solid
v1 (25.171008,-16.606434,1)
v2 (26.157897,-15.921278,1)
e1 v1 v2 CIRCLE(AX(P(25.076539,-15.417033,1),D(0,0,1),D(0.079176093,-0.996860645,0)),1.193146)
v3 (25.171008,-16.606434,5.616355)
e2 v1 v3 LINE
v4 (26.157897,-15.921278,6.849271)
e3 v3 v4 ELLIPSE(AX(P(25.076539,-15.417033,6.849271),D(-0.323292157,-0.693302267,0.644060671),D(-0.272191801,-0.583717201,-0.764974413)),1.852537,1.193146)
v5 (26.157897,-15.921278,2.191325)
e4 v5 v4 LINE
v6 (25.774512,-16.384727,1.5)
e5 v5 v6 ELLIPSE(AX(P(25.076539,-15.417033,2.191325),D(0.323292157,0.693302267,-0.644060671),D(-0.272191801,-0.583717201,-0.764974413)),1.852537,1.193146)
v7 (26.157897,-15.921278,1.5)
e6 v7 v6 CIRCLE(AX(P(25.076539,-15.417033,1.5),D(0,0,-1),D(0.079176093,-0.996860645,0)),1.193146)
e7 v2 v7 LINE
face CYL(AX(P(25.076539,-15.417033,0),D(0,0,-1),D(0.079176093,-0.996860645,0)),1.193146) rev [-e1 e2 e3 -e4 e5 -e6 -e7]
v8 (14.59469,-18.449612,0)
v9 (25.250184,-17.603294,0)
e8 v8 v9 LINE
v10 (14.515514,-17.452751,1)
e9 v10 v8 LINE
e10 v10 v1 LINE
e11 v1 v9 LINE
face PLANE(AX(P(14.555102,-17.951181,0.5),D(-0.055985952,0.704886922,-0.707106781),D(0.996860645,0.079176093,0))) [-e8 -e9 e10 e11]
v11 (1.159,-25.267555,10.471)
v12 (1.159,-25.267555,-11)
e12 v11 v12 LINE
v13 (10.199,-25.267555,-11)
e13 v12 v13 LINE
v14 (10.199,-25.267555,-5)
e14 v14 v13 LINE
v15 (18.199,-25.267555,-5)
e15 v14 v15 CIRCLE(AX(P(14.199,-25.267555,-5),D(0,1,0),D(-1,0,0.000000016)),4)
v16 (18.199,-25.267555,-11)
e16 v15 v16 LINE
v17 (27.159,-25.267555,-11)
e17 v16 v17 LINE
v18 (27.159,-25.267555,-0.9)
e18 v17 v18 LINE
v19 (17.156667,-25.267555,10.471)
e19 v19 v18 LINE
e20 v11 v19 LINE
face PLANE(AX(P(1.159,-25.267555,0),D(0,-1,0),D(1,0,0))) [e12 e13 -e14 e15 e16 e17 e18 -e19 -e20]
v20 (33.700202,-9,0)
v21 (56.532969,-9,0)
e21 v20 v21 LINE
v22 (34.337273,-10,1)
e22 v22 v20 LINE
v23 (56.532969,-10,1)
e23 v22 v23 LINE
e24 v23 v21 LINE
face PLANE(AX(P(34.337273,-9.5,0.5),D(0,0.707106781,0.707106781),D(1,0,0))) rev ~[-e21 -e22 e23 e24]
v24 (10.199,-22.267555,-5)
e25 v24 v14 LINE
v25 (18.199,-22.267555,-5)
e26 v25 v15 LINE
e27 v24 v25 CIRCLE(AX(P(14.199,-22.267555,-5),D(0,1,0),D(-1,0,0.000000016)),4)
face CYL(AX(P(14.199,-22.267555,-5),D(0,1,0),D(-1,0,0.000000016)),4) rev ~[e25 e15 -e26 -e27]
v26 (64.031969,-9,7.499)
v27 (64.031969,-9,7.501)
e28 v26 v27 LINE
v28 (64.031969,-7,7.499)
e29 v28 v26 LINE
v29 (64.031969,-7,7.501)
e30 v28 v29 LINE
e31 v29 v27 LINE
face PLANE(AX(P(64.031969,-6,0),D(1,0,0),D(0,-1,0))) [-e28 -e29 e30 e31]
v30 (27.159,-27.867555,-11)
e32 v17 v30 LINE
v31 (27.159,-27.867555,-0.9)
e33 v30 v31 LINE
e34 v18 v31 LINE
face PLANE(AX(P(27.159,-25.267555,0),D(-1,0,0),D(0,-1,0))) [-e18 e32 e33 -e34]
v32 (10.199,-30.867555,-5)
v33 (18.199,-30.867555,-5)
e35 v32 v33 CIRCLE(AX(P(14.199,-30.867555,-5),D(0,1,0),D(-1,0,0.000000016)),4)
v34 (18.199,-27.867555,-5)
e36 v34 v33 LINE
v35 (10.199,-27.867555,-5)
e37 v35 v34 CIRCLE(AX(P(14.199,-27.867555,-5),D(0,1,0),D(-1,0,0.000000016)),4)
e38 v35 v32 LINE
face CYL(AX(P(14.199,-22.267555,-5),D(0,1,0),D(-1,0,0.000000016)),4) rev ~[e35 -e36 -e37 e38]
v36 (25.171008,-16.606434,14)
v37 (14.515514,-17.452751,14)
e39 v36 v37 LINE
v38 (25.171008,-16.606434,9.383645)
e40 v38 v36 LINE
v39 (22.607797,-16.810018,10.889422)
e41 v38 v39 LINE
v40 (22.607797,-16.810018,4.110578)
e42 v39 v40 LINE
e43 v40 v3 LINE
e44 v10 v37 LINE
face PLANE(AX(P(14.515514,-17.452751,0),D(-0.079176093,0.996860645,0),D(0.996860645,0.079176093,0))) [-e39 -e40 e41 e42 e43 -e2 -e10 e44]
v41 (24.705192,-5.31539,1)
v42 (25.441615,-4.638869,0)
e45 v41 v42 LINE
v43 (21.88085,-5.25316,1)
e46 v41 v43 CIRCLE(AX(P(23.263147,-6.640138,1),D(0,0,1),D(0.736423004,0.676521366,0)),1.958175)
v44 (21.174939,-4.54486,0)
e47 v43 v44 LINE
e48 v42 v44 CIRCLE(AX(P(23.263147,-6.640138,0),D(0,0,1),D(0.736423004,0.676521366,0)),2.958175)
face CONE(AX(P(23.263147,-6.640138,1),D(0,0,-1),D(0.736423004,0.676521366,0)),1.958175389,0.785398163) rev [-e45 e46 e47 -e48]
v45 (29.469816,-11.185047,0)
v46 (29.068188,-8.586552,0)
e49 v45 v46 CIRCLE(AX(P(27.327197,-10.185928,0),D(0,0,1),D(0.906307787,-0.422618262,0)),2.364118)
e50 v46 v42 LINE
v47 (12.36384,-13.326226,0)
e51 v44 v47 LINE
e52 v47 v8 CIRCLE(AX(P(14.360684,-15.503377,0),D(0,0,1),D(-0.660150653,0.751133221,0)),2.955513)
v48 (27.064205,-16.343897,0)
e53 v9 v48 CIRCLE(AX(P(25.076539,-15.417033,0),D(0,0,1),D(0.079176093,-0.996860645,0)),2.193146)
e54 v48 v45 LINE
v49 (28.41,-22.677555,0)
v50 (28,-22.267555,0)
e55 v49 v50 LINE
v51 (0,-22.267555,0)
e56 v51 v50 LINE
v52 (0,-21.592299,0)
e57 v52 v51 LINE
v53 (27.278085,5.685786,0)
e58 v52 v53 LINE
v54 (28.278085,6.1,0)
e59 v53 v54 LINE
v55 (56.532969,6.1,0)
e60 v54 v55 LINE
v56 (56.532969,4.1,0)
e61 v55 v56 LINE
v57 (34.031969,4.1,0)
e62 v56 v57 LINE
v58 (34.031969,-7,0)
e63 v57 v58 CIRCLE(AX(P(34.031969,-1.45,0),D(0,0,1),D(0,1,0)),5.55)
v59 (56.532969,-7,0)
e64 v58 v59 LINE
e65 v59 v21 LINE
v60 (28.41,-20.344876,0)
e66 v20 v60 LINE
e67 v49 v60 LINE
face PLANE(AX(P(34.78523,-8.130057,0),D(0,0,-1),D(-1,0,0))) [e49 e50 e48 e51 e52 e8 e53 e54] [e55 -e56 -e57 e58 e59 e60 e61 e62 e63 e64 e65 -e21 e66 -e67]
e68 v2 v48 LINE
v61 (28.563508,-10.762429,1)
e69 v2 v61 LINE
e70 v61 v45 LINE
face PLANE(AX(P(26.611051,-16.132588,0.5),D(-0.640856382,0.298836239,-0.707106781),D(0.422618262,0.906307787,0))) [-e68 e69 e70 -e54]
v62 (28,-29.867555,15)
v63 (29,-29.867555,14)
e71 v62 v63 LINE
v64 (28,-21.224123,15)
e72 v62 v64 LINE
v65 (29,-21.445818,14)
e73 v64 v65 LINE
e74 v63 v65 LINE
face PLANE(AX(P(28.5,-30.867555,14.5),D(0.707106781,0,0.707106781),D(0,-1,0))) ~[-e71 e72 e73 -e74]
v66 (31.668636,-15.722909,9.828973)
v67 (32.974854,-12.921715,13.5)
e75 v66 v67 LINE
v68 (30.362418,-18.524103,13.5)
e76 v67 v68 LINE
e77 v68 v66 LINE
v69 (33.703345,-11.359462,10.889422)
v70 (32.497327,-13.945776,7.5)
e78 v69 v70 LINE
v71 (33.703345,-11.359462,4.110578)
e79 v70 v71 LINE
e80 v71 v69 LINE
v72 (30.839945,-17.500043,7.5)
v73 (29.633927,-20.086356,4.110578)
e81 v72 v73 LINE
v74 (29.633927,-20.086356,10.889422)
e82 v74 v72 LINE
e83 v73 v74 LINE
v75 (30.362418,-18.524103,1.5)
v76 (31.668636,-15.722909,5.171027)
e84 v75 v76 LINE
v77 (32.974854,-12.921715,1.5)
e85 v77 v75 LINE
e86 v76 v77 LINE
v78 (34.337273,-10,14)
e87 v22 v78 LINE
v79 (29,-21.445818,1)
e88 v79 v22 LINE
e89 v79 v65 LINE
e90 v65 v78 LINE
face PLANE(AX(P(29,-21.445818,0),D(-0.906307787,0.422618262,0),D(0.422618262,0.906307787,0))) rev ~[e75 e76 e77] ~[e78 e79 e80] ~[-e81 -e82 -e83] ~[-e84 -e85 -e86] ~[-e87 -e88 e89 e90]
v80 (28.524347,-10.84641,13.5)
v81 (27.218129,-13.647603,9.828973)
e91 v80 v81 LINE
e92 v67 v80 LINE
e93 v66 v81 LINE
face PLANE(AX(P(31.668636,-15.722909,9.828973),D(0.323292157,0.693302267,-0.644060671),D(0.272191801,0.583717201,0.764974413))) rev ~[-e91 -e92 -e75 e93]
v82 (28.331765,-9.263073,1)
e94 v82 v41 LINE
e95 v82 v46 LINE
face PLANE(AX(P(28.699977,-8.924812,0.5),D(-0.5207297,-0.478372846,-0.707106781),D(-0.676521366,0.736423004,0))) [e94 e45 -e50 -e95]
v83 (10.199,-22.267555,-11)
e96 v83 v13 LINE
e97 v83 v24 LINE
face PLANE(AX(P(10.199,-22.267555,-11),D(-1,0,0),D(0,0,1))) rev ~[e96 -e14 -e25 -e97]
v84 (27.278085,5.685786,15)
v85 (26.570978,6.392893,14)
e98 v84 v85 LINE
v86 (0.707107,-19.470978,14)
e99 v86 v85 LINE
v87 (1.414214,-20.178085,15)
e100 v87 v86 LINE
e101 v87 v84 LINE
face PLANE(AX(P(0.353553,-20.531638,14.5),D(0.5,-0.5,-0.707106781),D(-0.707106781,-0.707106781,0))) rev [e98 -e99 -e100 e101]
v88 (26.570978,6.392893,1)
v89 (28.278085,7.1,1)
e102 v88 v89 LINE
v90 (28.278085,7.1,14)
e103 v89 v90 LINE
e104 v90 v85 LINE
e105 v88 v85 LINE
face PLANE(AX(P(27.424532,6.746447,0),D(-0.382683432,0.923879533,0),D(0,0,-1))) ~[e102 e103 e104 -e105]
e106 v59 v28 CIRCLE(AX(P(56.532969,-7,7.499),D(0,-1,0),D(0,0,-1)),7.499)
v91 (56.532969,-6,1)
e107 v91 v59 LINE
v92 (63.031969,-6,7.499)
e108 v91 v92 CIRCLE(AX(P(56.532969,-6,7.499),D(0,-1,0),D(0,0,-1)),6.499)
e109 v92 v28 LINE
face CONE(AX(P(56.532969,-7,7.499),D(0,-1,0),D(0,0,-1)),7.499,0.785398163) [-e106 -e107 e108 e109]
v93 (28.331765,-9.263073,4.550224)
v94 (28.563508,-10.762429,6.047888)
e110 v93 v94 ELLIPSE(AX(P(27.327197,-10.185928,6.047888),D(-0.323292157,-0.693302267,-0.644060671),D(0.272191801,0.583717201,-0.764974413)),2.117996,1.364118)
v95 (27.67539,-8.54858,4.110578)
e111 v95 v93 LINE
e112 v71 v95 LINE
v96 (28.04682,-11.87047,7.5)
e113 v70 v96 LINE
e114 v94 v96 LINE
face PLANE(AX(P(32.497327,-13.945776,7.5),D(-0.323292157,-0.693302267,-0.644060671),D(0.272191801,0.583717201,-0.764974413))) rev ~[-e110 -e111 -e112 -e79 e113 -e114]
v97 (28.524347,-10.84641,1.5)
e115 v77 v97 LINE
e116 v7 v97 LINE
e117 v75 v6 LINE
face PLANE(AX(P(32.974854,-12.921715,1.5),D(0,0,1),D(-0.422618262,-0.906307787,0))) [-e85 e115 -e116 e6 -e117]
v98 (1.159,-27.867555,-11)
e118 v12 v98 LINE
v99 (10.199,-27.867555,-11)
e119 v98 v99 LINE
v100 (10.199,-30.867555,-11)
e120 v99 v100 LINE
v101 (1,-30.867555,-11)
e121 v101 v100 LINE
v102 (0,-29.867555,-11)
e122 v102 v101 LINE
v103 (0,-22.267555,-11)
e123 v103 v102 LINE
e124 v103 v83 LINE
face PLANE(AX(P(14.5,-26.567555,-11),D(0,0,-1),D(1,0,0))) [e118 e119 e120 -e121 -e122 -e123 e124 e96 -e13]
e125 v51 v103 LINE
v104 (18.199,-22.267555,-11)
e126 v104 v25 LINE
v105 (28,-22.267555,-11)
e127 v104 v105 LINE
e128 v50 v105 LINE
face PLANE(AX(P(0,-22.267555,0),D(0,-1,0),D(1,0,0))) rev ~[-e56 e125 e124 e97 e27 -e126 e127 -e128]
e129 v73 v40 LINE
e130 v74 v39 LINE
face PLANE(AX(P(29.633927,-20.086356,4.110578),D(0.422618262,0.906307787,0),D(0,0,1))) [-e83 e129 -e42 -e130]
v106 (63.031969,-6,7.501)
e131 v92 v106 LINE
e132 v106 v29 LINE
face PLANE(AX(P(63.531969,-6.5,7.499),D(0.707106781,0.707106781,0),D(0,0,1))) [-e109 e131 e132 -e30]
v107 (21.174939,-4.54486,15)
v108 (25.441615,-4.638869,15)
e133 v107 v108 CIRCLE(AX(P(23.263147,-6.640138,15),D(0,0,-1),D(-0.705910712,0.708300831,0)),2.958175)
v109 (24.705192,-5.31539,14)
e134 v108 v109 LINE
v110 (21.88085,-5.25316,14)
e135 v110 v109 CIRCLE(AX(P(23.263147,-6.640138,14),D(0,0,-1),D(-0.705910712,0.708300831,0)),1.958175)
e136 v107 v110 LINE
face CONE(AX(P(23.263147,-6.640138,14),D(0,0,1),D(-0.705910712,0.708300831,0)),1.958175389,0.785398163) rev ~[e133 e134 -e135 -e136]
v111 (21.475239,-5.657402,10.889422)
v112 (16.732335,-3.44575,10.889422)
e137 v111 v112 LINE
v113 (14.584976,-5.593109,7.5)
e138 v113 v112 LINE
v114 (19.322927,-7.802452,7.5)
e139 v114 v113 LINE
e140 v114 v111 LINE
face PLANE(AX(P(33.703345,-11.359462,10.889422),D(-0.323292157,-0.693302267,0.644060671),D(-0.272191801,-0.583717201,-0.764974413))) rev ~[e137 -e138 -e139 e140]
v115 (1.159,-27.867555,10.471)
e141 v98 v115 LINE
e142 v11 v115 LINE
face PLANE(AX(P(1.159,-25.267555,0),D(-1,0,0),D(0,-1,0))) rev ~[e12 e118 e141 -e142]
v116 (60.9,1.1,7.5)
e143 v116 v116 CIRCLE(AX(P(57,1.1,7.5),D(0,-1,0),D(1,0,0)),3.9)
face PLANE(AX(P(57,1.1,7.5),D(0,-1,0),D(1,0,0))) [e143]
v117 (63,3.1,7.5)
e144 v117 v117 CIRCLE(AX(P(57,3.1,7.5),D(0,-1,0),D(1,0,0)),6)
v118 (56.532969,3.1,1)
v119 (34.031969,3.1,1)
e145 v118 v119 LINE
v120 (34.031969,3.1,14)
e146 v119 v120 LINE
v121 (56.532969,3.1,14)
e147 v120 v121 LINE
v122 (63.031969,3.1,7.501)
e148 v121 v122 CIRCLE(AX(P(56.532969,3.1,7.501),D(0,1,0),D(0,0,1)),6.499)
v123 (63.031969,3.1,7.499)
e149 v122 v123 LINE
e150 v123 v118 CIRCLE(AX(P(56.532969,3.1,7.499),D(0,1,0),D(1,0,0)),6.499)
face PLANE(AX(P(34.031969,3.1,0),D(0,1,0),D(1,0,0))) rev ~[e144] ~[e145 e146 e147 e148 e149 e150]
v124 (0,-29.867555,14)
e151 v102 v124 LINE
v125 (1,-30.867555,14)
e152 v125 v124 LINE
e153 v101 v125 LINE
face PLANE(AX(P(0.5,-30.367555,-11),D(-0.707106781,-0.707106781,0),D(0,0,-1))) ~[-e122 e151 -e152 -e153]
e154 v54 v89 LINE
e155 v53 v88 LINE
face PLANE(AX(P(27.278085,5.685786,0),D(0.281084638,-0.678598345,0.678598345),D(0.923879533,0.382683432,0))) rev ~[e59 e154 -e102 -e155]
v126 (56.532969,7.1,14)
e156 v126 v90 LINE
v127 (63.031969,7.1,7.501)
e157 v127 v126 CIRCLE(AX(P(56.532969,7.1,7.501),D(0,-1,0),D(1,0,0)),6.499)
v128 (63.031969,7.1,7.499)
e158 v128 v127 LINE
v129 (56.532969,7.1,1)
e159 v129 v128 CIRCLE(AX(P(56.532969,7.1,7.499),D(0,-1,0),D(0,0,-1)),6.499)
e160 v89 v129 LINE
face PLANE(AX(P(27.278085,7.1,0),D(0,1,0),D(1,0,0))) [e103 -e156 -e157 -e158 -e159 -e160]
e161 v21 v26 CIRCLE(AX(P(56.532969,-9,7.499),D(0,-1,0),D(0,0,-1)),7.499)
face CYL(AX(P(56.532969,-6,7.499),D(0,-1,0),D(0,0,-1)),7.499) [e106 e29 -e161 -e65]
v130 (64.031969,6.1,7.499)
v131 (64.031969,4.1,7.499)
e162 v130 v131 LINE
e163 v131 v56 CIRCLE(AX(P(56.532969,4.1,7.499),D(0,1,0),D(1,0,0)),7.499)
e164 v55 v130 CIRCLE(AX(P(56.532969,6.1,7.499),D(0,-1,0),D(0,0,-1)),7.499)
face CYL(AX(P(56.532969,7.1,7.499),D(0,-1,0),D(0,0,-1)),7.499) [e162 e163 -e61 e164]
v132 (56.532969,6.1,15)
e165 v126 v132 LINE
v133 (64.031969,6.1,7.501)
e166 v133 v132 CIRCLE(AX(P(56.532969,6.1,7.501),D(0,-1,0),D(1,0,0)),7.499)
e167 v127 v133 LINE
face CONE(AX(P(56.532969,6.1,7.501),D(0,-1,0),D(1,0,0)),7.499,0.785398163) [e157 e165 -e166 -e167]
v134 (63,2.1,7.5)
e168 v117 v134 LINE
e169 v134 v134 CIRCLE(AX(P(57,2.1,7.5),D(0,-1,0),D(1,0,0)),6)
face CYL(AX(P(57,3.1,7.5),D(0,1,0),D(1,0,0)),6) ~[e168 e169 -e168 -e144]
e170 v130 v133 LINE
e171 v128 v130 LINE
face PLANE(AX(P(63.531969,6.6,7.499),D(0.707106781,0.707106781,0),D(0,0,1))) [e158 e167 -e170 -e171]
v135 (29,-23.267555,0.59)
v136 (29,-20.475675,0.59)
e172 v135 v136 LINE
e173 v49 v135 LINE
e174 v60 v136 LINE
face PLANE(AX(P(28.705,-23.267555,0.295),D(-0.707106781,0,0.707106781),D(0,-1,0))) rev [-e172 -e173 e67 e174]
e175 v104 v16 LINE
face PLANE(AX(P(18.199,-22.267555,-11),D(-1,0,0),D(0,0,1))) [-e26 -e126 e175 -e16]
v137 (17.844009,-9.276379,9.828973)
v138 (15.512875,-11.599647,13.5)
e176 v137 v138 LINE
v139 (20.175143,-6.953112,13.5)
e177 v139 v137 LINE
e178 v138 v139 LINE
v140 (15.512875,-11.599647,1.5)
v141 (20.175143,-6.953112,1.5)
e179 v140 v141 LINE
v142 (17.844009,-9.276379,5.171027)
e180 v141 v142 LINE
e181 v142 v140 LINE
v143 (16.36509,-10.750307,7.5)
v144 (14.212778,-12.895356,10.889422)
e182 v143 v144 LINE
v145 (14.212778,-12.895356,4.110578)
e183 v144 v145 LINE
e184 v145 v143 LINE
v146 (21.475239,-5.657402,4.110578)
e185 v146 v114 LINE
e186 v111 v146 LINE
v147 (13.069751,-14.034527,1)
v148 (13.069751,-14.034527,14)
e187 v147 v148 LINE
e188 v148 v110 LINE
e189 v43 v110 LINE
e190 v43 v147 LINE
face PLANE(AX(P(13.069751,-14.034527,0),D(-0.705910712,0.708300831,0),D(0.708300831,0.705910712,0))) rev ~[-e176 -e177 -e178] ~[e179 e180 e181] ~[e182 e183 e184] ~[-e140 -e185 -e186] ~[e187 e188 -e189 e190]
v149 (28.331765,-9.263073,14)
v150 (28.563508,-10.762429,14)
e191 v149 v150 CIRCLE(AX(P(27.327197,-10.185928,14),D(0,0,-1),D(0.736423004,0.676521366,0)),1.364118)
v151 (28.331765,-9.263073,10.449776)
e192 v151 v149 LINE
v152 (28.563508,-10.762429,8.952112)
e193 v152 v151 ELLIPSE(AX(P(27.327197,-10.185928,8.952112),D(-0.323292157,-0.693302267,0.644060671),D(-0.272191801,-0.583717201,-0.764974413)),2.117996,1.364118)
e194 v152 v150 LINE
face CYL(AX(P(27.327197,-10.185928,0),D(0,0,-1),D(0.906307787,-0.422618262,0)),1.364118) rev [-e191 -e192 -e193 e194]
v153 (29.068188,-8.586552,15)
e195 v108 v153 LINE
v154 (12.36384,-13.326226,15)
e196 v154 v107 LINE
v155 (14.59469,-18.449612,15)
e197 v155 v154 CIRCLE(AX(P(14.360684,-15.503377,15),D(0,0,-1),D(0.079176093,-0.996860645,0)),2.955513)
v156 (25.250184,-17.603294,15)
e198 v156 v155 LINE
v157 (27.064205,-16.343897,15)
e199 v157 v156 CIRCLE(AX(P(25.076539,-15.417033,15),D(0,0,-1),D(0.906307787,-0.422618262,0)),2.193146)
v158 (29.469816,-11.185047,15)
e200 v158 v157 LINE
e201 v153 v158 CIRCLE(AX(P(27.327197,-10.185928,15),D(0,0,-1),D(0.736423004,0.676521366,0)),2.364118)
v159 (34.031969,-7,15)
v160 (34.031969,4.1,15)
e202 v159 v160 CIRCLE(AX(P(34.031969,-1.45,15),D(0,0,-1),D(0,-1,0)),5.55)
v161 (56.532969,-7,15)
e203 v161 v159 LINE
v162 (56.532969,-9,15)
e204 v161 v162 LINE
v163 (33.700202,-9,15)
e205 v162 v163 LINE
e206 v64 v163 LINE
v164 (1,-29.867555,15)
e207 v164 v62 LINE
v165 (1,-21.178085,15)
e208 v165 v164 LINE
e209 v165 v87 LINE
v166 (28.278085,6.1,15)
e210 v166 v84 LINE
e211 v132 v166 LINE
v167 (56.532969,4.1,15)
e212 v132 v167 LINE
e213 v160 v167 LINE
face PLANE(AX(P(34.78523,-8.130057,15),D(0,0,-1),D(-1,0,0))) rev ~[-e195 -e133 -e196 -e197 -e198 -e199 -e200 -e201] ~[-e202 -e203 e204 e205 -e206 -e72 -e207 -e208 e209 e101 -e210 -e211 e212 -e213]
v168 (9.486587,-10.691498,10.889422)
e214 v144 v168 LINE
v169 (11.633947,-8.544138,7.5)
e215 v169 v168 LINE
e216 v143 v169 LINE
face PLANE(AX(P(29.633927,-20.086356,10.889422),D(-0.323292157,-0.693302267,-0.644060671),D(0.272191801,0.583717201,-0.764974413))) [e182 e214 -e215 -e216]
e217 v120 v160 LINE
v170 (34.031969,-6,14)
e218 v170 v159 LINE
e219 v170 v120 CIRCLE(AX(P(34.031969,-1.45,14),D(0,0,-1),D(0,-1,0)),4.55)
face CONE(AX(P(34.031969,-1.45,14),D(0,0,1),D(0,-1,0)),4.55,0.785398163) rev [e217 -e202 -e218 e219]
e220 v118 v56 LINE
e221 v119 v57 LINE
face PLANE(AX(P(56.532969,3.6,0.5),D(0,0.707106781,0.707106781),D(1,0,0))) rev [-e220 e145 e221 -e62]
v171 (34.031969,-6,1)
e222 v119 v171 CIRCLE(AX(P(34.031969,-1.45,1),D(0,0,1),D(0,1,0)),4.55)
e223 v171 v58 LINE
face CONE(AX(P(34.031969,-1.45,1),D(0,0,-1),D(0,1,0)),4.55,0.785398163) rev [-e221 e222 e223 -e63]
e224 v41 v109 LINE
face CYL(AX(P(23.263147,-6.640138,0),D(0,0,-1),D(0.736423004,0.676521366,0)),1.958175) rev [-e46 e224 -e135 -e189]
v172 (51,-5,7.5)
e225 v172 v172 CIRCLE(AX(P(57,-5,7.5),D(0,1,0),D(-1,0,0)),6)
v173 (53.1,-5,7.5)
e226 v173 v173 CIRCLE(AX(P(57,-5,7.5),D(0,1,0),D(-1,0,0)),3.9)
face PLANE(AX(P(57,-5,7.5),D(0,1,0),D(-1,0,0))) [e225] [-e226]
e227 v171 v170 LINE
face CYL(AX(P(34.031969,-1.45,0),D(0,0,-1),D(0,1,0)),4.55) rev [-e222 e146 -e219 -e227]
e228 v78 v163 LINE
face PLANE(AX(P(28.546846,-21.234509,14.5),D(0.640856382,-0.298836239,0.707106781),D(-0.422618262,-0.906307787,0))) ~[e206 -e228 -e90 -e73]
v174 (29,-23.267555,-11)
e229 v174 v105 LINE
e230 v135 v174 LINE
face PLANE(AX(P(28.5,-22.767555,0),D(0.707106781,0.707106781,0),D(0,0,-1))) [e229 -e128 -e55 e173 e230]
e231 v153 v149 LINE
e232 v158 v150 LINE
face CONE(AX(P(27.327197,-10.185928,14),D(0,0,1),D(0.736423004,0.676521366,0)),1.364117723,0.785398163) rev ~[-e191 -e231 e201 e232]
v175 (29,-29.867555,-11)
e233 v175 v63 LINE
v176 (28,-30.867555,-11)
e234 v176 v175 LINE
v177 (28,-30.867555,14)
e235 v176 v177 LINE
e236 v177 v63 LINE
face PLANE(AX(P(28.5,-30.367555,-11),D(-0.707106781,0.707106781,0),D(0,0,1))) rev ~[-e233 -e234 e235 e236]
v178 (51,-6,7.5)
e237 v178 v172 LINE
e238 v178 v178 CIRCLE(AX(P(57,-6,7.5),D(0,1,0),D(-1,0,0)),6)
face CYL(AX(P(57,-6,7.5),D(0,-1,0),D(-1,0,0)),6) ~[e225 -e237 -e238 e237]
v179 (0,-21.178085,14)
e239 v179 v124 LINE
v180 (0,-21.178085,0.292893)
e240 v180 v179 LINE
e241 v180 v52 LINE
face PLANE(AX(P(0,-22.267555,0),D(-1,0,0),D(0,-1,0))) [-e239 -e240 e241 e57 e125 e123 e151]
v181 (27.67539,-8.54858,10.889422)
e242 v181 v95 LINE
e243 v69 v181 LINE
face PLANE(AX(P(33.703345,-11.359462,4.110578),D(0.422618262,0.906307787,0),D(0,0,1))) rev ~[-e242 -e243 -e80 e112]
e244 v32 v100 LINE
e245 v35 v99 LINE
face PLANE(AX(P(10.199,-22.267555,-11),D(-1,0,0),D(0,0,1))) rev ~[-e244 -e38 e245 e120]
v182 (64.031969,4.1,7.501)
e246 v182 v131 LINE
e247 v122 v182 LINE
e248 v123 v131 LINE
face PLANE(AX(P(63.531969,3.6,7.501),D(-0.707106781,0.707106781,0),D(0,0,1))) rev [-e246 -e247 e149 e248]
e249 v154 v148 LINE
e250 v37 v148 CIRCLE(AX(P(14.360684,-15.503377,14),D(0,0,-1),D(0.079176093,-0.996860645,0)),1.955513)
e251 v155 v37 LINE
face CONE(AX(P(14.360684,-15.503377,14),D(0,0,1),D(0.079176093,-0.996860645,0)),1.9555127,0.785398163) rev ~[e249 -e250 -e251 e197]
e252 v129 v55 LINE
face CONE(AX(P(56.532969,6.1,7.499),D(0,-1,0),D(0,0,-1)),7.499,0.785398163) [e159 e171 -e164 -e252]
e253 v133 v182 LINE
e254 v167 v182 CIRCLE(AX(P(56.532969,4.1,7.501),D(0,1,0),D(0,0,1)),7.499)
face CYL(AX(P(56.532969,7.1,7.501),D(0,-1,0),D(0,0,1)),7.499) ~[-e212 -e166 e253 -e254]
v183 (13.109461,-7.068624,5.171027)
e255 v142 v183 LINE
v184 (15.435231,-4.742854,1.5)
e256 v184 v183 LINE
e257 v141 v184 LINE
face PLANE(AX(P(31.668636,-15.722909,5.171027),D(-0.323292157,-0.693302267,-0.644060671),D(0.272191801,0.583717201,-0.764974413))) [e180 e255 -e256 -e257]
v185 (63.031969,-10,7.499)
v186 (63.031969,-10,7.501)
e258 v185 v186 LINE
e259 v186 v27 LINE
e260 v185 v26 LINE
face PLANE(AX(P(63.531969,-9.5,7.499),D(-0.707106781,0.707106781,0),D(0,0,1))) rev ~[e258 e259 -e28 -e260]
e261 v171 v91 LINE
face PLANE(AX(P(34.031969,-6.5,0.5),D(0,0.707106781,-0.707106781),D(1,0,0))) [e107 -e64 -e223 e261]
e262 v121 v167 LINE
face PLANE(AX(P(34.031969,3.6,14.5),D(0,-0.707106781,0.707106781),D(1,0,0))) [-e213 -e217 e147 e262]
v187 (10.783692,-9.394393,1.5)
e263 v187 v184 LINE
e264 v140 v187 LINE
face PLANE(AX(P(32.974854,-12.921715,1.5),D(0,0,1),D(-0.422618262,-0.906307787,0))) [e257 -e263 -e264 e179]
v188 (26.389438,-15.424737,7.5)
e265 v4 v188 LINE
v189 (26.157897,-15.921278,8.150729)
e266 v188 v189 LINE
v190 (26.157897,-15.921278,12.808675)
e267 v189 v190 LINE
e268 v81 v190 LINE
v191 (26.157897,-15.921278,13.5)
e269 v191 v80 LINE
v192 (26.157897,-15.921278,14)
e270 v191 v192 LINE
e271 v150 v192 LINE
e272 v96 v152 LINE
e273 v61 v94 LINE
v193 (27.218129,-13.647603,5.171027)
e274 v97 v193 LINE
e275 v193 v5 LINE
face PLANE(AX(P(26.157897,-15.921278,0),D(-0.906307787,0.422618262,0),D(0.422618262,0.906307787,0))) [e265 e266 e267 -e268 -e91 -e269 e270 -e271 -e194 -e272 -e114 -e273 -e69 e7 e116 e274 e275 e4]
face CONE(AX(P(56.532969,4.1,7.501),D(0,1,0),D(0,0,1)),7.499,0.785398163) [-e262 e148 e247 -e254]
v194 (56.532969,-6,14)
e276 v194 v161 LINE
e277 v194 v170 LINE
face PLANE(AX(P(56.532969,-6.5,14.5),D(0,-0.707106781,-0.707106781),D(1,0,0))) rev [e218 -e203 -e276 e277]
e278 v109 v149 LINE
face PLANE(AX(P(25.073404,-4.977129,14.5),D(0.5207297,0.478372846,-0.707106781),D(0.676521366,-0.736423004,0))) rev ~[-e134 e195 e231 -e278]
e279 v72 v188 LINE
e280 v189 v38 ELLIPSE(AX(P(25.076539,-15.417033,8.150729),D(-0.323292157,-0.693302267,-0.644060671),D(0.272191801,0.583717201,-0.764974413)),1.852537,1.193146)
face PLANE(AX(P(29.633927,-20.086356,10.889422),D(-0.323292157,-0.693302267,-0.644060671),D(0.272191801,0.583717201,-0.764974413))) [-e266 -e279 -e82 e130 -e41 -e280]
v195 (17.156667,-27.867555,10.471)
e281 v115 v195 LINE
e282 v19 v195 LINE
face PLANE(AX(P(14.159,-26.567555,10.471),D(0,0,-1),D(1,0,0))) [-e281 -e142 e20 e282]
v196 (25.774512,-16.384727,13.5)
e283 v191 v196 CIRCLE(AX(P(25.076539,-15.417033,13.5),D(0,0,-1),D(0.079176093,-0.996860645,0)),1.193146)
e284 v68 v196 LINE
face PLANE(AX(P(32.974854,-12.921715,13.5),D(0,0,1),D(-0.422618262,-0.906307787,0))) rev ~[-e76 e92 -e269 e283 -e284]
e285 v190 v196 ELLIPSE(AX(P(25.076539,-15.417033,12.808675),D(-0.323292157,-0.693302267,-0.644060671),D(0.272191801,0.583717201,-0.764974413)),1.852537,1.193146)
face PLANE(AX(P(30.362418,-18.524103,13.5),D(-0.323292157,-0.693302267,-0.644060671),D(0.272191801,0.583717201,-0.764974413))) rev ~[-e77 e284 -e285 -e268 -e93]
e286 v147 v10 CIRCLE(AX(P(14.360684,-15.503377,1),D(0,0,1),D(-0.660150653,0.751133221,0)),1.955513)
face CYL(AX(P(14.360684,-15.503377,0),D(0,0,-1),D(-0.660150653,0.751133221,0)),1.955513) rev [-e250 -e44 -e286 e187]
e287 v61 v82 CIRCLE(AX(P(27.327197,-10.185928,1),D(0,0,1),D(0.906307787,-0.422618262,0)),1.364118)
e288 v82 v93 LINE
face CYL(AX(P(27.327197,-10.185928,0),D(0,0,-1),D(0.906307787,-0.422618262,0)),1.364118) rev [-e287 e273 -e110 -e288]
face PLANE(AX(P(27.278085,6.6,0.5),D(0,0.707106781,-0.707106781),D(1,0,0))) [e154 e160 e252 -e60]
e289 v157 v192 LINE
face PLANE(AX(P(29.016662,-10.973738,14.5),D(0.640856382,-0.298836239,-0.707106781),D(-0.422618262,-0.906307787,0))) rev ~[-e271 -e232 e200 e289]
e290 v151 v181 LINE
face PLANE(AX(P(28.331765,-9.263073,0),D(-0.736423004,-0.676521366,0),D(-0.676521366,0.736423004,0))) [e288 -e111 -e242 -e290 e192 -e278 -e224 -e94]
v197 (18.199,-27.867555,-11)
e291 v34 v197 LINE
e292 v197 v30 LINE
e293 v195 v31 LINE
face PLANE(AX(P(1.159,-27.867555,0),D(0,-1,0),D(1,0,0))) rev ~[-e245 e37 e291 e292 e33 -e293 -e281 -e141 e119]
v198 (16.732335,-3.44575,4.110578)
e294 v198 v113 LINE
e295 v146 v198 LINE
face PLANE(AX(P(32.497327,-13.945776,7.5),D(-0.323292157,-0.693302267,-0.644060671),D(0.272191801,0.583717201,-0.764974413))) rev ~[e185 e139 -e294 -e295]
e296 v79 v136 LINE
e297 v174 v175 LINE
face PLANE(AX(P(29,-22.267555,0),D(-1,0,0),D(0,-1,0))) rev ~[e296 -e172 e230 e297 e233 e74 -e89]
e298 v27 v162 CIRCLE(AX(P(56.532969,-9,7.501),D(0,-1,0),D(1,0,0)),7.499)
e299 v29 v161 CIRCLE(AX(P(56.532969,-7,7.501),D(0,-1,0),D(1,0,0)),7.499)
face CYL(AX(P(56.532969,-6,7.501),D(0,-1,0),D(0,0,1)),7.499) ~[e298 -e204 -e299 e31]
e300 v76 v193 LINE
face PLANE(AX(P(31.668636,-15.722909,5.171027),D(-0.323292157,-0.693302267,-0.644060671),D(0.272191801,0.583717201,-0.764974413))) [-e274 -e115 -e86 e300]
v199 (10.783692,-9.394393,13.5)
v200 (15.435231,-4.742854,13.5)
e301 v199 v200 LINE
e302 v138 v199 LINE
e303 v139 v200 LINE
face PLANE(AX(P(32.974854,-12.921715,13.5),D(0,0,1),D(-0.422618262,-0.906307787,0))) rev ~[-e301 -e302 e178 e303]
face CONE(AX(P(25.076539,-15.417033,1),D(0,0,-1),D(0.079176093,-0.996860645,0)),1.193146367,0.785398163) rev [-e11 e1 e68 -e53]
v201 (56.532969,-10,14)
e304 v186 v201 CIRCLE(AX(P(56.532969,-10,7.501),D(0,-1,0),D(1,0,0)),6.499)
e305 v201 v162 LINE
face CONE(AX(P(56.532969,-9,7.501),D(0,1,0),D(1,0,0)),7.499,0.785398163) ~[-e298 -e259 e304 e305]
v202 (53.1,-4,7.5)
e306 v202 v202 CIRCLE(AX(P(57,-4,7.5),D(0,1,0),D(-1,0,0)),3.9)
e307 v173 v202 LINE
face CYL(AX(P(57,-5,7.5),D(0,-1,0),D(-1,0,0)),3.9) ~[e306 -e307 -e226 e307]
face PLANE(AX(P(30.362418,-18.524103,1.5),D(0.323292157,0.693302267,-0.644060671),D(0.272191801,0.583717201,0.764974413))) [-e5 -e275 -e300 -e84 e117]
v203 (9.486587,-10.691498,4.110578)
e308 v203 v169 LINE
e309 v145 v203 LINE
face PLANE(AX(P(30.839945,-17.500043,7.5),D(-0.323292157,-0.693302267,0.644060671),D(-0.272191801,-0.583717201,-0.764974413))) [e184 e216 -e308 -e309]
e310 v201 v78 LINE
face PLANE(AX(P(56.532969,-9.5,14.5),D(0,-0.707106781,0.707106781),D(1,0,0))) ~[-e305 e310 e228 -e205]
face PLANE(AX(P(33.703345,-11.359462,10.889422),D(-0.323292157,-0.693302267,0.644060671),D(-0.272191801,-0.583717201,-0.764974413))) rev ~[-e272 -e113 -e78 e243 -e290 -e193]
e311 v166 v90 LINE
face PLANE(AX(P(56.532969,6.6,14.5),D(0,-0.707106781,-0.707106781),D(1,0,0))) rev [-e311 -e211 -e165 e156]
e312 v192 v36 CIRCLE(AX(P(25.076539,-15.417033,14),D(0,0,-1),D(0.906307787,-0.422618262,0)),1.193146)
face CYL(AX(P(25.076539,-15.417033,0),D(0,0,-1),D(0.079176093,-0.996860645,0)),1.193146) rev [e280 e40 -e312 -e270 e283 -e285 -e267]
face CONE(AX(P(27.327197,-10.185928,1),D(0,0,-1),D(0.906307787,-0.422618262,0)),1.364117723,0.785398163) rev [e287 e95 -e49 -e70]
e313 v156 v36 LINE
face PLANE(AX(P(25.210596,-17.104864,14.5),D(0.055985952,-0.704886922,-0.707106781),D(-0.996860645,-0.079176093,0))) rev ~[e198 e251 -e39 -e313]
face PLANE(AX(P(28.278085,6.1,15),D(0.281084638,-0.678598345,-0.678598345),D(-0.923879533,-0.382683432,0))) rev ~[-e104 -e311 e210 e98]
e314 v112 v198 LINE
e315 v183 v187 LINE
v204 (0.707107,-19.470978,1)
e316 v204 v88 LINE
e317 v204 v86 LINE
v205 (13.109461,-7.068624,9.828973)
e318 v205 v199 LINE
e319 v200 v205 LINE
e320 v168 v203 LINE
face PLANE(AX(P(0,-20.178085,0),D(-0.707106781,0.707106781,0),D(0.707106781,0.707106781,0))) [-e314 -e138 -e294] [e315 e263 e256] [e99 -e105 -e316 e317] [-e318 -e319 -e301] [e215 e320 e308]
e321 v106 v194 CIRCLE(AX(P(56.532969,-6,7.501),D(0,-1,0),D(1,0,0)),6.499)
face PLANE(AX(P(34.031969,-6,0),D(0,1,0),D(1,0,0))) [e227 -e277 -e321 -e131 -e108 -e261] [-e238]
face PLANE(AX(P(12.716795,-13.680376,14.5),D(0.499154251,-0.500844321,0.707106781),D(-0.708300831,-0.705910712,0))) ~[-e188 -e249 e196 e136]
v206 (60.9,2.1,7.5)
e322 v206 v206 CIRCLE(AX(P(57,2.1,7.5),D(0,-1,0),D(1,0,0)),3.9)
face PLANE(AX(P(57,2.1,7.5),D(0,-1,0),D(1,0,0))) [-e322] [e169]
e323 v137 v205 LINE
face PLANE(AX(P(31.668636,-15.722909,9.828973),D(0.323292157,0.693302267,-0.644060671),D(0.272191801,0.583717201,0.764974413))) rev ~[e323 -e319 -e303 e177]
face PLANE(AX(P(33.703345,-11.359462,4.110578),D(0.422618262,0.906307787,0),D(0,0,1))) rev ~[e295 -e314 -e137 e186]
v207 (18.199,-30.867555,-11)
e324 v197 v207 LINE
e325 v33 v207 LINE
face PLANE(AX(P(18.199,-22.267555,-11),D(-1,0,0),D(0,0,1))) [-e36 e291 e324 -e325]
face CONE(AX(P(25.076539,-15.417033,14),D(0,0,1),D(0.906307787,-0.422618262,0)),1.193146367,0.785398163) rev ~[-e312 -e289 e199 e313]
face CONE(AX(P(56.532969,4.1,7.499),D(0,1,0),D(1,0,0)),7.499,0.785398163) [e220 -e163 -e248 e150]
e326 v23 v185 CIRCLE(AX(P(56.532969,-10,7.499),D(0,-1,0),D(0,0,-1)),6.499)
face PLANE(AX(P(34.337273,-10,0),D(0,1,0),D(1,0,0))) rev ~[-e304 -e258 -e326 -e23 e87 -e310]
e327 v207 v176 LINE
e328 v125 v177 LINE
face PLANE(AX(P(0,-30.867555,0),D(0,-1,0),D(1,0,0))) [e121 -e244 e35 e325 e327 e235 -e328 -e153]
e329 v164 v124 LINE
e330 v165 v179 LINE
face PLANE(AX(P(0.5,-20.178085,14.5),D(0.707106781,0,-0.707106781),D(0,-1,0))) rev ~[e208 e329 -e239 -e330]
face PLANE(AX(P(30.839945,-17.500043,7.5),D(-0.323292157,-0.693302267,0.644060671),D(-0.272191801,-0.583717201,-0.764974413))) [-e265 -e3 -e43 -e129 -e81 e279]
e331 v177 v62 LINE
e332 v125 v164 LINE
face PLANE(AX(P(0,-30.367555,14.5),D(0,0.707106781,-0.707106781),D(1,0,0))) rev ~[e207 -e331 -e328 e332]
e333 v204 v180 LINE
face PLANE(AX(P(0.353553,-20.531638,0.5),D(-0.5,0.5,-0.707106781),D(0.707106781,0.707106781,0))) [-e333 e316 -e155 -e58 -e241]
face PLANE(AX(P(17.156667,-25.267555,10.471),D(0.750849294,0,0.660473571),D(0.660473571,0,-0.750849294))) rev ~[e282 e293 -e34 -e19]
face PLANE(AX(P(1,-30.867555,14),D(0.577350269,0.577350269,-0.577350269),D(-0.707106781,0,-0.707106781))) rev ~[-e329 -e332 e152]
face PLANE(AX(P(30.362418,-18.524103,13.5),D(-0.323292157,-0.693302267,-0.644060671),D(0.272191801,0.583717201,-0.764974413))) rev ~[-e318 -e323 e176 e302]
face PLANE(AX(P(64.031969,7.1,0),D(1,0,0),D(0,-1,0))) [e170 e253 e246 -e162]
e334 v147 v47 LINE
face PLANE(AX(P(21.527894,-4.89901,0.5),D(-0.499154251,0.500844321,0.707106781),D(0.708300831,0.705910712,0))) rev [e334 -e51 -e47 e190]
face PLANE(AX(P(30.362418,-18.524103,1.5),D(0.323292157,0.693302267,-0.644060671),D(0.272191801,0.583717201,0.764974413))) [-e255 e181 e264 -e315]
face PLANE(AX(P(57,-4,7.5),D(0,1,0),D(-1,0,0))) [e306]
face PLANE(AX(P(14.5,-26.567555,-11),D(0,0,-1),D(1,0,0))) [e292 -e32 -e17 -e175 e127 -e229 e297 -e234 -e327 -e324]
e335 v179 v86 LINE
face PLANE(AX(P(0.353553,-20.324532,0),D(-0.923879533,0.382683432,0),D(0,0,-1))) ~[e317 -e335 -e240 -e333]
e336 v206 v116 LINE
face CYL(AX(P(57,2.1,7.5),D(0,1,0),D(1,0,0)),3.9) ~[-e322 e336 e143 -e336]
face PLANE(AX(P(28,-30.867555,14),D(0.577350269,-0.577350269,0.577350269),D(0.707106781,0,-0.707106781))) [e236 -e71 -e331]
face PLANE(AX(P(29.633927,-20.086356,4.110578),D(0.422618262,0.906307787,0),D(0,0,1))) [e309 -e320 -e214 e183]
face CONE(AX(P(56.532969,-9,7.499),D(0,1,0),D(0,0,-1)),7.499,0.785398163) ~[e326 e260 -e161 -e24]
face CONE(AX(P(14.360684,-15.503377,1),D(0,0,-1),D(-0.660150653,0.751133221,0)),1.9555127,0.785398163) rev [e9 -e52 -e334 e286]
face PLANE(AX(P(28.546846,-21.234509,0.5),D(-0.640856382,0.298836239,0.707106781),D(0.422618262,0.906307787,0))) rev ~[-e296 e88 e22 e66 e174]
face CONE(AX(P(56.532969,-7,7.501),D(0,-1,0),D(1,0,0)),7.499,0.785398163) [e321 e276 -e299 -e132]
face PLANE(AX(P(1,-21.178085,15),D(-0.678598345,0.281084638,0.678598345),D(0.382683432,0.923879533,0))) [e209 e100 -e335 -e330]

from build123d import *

# Parameters (mm, degrees)
PAD_DEPTH       = 15
SKETCH003_R     = 6
PAD001_DEPTH    = 1
SKETCH005_R     = 3.9
PAD002_DEPTH    = 1
SKETCH004_R     = 6
PAD003_DEPTH    = 1
SKETCH_R        = 3.9
PAD004_DEPTH    = 1
POCKET_DEPTH    = 15.001
SKETCH012_W     = 29
SKETCH012_H     = 8.6
SKETCH012_W_2   = 26
SKETCH012_H_2   = 2.6
PAD005_DEPTH    = 11
SKETCH013_W     = 26
SKETCH013_H     = 2.6
POCKET001_DEPTH = 21.471
PAD006_DEPTH    = 2.6
POCKET002_DEPTH = 38.3479098694
FILLET_R        = 7.499
POCKET003_DEPTH = 8.601
CHAMFER_SIZE    = 1
CHAMFER001_SIZE = 1
CHAMFER002_SIZE = 0.59


with BuildPart() as part:
    # Sketch001 → Pad (new body)
    with BuildSketch(Plane.XY):
        with BuildLine():
            ThreePointArc((34.031969, 3.1), (29.481969, -1.45), (34.031969, -6))
            Line((34.031969, -6), (64.031969, -6))
            Line((64.031969, -6), (64.031969, -10))
            Line((34.3372726559, -10), (64.031969, -10))
            Line((29, -21.4458181471), (34.3372726559, -10))
            Line((29, -30.8675547205), (29, -21.4458181471))
            Line((0, -30.8675547205), (29, -30.8675547205))
            Line((0, -20.178085), (0, -30.8675547205))
            Line((0, -20.178085), (27.278085, 7.1))
            Line((27.278085, 7.1), (64.031969, 7.1))
            Line((64.031969, 7.1), (64.031969, 3.1))
            Line((34.031969, 3.1), (64.031969, 3.1))
        make_face()
    extrude(amount=PAD_DEPTH)

    # Sketch003 → Pad001 (join)
    with BuildSketch(Plane.XZ.offset(-3.1)):
        with Locations((57, 7.5)):
            Circle(SKETCH003_R)
    extrude(amount=PAD001_DEPTH)

    # Sketch005 (on Face16 of Pad001) → Pad002 (join)
    with BuildSketch(Plane.XZ.offset(-2.1)):
        with Locations((57, 7.5)):
            Circle(SKETCH005_R)
    extrude(amount=PAD002_DEPTH)

    # Sketch004 → Pad003 (join)
    with BuildSketch(Plane(origin=(0, -6, 0), x_dir=(-1, 0, 0), z_dir=(0, 1, 0))):
        with Locations((-57, 7.5)):
            Circle(SKETCH004_R)
    extrude(amount=PAD003_DEPTH)

    # Sketch → Pad004 (join)
    with BuildSketch(Plane(origin=(0, -5, 0), x_dir=(-1, 0, 0), z_dir=(0, 1, 0))):
        with Locations((-57, 7.5)):
            Circle(SKETCH_R)
    extrude(amount=PAD004_DEPTH)

    # Sketch008 → Pocket (cut, through all)
    with BuildSketch(Plane.XY):
        with BuildLine():
            ThreePointArc((13.0697507591, -14.0345267419), (12.559643278, -16.2651404862), (14.5155135985, -17.4527509473))
            Line((14.5155135985, -17.4527509473), (25.1710077735, -16.6064336644))
            ThreePointArc((25.1710077735, -16.6064336644), (25.7569811778, -16.3971334306), (26.15789695, -15.9212784504))
            Line((26.15789695, -15.9212784504), (28.5635079634, -10.7624289841))
            ThreePointArc((28.5635079634, -10.7624289841), (28.6753075146, -9.9775618701), (28.3317651199, -9.2630731374))
            Line((28.3317651199, -9.2630731374), (24.7051920017, -5.3153901784))
            ThreePointArc((24.7051920017, -5.3153901784), (23.3062813222, -4.6824374231), (21.8808496163, -5.2531604134))
            Line((13.0697507591, -14.0345267419), (21.8808496163, -5.2531604134))
        make_face()
    extrude(amount=POCKET_DEPTH, mode=Mode.SUBTRACT)

    # Sketch012 (on Face4 of Pocket) → Pad005 (join)
    with BuildSketch(Plane(origin=(0, 0, 0), x_dir=(1, 0, 0), z_dir=(0, 0, -1))):
        with Locations((14.5, 26.5675547205)):
            Rectangle(SKETCH012_W, SKETCH012_H)
        with Locations((14.159, 26.5675547205)):
            Rectangle(SKETCH012_W_2, SKETCH012_H_2, mode=Mode.SUBTRACT)
    extrude(amount=PAD005_DEPTH)

    # Sketch013 (on Face30 of Pad005) → Pocket001 (cut)
    with BuildSketch(Plane(origin=(0, 0, -11), x_dir=(1, 0, 0), z_dir=(0, 0, -1))):
        with Locations((14.159, 26.5675547205)):
            Rectangle(SKETCH013_W, SKETCH013_H)
    extrude(amount=-POCKET001_DEPTH, mode=Mode.SUBTRACT)

    # Sketch014 (on Face36 of Pocket001) → Pad006 (join)
    with BuildSketch(Plane.XZ.offset(25.2675547205)):
        Polygon((27.159, -0.9), (27.159, 10.471), (17.1566665969, 10.471), align=None)
    extrude(amount=PAD006_DEPTH)

    # Sketch015 (on Face15 of Pad006) → Pocket002 (cut, through all)
    with BuildSketch(Plane(origin=(32.0346452503, -14.9380004065, 0), x_dir=(0.4226182617, 0.906307787, 0), z_dir=(0.906307787, -0.4226182617, 0))):
        Polygon((-5.6805823956, 10.8894220066), (-2.8269007902, 7.5), (-5.6805823956, 4.1105779934), align=None)
        Polygon((-3.9568261963, 13.5), (-0.8660508916, 9.828973136), (2.224724413, 13.5), align=None)
        Polygon((3.9484806124, 10.8894220066), (1.0947990069, 7.5), (3.9484806124, 4.1105779934), align=None)
        Polygon((-0.8660508916, 5.171026864), (2.224724413, 1.5), (-3.9568261963, 1.5), align=None)
    extrude(amount=-POCKET002_DEPTH, mode=Mode.SUBTRACT)

    # Fillet
    fillet_edges = [part.edges().sort_by_distance(p)[0] for p in [
        (64.031969, -8, 15),
        (64.031969, -8, 0),
        (64.031969, 5.1, 0),
        (64.031969, 5.1, 15),
    ]]
    fillet(fillet_edges, radius=FILLET_R)

    # Sketch016 (on Face15 of Fillet) → Pocket003 (cut, through all)
    with BuildSketch(Plane(origin=(0, -22.2675547205, 0), x_dir=(-1, 0, 0), z_dir=(0, 1, 0))):
        with BuildLine():
            Line((-10.199, -11), (-10.199, -5))
            ThreePointArc((-10.199, -5), (-14.199, -1.0000000634), (-18.199, -5))
            Line((-18.199, -11), (-18.199, -5))
            Line((-10.199, -11), (-18.199, -11))
        make_face()
    extrude(amount=-POCKET003_DEPTH, mode=Mode.SUBTRACT)

    # Chamfer
    chamfer_edges = [part.edges().sort_by_distance(p)[0] for p in [
        (17.4753, -9.643844, 15),
        (26.518479, -7.289232, 0),
    ]]
    chamfer(chamfer_edges, length=CHAMFER_SIZE)

    # Chamfer001
    chamfer001_edges = [part.edges().sort_by_distance(p)[0] for p in [
        (13.639043, -6.539043, 0),
        (41.905527, 7.1, 0),
        (45.435121, -10, 0),
        (45.435121, -10, 15),
        (29.481969, -1.45, 0),
        (29.481969, -1.45, 15),
        (41.905527, 7.1, 15),
        (13.639043, -6.539043, 15),
        (27.278085, 7.1, 7.5),
        (0, -20.178085, 7.5),
        (31.668636, -15.722909, 15),
        (29, -26.156686, 15),
        (0, -25.52282, 15),
        (14.5, -30.867555, 15),
        (29, -30.867555, 7.5),
        (0, -30.867555, 7.5),
        (29, -22.267555, -5.5),
        (29, -30.867555, -5.5),
        (31.668636, -15.722909, 0),
    ]]
    chamfer(chamfer001_edges, length=CHAMFER001_SIZE)

    # Chamfer002
    chamfer002_edges = [part.edges().sort_by_distance(p)[0] for p in [
        (29, -21.856686, 0),
    ]]
    chamfer(chamfer002_edges, length=CHAMFER002_SIZE)


solid = part.part
